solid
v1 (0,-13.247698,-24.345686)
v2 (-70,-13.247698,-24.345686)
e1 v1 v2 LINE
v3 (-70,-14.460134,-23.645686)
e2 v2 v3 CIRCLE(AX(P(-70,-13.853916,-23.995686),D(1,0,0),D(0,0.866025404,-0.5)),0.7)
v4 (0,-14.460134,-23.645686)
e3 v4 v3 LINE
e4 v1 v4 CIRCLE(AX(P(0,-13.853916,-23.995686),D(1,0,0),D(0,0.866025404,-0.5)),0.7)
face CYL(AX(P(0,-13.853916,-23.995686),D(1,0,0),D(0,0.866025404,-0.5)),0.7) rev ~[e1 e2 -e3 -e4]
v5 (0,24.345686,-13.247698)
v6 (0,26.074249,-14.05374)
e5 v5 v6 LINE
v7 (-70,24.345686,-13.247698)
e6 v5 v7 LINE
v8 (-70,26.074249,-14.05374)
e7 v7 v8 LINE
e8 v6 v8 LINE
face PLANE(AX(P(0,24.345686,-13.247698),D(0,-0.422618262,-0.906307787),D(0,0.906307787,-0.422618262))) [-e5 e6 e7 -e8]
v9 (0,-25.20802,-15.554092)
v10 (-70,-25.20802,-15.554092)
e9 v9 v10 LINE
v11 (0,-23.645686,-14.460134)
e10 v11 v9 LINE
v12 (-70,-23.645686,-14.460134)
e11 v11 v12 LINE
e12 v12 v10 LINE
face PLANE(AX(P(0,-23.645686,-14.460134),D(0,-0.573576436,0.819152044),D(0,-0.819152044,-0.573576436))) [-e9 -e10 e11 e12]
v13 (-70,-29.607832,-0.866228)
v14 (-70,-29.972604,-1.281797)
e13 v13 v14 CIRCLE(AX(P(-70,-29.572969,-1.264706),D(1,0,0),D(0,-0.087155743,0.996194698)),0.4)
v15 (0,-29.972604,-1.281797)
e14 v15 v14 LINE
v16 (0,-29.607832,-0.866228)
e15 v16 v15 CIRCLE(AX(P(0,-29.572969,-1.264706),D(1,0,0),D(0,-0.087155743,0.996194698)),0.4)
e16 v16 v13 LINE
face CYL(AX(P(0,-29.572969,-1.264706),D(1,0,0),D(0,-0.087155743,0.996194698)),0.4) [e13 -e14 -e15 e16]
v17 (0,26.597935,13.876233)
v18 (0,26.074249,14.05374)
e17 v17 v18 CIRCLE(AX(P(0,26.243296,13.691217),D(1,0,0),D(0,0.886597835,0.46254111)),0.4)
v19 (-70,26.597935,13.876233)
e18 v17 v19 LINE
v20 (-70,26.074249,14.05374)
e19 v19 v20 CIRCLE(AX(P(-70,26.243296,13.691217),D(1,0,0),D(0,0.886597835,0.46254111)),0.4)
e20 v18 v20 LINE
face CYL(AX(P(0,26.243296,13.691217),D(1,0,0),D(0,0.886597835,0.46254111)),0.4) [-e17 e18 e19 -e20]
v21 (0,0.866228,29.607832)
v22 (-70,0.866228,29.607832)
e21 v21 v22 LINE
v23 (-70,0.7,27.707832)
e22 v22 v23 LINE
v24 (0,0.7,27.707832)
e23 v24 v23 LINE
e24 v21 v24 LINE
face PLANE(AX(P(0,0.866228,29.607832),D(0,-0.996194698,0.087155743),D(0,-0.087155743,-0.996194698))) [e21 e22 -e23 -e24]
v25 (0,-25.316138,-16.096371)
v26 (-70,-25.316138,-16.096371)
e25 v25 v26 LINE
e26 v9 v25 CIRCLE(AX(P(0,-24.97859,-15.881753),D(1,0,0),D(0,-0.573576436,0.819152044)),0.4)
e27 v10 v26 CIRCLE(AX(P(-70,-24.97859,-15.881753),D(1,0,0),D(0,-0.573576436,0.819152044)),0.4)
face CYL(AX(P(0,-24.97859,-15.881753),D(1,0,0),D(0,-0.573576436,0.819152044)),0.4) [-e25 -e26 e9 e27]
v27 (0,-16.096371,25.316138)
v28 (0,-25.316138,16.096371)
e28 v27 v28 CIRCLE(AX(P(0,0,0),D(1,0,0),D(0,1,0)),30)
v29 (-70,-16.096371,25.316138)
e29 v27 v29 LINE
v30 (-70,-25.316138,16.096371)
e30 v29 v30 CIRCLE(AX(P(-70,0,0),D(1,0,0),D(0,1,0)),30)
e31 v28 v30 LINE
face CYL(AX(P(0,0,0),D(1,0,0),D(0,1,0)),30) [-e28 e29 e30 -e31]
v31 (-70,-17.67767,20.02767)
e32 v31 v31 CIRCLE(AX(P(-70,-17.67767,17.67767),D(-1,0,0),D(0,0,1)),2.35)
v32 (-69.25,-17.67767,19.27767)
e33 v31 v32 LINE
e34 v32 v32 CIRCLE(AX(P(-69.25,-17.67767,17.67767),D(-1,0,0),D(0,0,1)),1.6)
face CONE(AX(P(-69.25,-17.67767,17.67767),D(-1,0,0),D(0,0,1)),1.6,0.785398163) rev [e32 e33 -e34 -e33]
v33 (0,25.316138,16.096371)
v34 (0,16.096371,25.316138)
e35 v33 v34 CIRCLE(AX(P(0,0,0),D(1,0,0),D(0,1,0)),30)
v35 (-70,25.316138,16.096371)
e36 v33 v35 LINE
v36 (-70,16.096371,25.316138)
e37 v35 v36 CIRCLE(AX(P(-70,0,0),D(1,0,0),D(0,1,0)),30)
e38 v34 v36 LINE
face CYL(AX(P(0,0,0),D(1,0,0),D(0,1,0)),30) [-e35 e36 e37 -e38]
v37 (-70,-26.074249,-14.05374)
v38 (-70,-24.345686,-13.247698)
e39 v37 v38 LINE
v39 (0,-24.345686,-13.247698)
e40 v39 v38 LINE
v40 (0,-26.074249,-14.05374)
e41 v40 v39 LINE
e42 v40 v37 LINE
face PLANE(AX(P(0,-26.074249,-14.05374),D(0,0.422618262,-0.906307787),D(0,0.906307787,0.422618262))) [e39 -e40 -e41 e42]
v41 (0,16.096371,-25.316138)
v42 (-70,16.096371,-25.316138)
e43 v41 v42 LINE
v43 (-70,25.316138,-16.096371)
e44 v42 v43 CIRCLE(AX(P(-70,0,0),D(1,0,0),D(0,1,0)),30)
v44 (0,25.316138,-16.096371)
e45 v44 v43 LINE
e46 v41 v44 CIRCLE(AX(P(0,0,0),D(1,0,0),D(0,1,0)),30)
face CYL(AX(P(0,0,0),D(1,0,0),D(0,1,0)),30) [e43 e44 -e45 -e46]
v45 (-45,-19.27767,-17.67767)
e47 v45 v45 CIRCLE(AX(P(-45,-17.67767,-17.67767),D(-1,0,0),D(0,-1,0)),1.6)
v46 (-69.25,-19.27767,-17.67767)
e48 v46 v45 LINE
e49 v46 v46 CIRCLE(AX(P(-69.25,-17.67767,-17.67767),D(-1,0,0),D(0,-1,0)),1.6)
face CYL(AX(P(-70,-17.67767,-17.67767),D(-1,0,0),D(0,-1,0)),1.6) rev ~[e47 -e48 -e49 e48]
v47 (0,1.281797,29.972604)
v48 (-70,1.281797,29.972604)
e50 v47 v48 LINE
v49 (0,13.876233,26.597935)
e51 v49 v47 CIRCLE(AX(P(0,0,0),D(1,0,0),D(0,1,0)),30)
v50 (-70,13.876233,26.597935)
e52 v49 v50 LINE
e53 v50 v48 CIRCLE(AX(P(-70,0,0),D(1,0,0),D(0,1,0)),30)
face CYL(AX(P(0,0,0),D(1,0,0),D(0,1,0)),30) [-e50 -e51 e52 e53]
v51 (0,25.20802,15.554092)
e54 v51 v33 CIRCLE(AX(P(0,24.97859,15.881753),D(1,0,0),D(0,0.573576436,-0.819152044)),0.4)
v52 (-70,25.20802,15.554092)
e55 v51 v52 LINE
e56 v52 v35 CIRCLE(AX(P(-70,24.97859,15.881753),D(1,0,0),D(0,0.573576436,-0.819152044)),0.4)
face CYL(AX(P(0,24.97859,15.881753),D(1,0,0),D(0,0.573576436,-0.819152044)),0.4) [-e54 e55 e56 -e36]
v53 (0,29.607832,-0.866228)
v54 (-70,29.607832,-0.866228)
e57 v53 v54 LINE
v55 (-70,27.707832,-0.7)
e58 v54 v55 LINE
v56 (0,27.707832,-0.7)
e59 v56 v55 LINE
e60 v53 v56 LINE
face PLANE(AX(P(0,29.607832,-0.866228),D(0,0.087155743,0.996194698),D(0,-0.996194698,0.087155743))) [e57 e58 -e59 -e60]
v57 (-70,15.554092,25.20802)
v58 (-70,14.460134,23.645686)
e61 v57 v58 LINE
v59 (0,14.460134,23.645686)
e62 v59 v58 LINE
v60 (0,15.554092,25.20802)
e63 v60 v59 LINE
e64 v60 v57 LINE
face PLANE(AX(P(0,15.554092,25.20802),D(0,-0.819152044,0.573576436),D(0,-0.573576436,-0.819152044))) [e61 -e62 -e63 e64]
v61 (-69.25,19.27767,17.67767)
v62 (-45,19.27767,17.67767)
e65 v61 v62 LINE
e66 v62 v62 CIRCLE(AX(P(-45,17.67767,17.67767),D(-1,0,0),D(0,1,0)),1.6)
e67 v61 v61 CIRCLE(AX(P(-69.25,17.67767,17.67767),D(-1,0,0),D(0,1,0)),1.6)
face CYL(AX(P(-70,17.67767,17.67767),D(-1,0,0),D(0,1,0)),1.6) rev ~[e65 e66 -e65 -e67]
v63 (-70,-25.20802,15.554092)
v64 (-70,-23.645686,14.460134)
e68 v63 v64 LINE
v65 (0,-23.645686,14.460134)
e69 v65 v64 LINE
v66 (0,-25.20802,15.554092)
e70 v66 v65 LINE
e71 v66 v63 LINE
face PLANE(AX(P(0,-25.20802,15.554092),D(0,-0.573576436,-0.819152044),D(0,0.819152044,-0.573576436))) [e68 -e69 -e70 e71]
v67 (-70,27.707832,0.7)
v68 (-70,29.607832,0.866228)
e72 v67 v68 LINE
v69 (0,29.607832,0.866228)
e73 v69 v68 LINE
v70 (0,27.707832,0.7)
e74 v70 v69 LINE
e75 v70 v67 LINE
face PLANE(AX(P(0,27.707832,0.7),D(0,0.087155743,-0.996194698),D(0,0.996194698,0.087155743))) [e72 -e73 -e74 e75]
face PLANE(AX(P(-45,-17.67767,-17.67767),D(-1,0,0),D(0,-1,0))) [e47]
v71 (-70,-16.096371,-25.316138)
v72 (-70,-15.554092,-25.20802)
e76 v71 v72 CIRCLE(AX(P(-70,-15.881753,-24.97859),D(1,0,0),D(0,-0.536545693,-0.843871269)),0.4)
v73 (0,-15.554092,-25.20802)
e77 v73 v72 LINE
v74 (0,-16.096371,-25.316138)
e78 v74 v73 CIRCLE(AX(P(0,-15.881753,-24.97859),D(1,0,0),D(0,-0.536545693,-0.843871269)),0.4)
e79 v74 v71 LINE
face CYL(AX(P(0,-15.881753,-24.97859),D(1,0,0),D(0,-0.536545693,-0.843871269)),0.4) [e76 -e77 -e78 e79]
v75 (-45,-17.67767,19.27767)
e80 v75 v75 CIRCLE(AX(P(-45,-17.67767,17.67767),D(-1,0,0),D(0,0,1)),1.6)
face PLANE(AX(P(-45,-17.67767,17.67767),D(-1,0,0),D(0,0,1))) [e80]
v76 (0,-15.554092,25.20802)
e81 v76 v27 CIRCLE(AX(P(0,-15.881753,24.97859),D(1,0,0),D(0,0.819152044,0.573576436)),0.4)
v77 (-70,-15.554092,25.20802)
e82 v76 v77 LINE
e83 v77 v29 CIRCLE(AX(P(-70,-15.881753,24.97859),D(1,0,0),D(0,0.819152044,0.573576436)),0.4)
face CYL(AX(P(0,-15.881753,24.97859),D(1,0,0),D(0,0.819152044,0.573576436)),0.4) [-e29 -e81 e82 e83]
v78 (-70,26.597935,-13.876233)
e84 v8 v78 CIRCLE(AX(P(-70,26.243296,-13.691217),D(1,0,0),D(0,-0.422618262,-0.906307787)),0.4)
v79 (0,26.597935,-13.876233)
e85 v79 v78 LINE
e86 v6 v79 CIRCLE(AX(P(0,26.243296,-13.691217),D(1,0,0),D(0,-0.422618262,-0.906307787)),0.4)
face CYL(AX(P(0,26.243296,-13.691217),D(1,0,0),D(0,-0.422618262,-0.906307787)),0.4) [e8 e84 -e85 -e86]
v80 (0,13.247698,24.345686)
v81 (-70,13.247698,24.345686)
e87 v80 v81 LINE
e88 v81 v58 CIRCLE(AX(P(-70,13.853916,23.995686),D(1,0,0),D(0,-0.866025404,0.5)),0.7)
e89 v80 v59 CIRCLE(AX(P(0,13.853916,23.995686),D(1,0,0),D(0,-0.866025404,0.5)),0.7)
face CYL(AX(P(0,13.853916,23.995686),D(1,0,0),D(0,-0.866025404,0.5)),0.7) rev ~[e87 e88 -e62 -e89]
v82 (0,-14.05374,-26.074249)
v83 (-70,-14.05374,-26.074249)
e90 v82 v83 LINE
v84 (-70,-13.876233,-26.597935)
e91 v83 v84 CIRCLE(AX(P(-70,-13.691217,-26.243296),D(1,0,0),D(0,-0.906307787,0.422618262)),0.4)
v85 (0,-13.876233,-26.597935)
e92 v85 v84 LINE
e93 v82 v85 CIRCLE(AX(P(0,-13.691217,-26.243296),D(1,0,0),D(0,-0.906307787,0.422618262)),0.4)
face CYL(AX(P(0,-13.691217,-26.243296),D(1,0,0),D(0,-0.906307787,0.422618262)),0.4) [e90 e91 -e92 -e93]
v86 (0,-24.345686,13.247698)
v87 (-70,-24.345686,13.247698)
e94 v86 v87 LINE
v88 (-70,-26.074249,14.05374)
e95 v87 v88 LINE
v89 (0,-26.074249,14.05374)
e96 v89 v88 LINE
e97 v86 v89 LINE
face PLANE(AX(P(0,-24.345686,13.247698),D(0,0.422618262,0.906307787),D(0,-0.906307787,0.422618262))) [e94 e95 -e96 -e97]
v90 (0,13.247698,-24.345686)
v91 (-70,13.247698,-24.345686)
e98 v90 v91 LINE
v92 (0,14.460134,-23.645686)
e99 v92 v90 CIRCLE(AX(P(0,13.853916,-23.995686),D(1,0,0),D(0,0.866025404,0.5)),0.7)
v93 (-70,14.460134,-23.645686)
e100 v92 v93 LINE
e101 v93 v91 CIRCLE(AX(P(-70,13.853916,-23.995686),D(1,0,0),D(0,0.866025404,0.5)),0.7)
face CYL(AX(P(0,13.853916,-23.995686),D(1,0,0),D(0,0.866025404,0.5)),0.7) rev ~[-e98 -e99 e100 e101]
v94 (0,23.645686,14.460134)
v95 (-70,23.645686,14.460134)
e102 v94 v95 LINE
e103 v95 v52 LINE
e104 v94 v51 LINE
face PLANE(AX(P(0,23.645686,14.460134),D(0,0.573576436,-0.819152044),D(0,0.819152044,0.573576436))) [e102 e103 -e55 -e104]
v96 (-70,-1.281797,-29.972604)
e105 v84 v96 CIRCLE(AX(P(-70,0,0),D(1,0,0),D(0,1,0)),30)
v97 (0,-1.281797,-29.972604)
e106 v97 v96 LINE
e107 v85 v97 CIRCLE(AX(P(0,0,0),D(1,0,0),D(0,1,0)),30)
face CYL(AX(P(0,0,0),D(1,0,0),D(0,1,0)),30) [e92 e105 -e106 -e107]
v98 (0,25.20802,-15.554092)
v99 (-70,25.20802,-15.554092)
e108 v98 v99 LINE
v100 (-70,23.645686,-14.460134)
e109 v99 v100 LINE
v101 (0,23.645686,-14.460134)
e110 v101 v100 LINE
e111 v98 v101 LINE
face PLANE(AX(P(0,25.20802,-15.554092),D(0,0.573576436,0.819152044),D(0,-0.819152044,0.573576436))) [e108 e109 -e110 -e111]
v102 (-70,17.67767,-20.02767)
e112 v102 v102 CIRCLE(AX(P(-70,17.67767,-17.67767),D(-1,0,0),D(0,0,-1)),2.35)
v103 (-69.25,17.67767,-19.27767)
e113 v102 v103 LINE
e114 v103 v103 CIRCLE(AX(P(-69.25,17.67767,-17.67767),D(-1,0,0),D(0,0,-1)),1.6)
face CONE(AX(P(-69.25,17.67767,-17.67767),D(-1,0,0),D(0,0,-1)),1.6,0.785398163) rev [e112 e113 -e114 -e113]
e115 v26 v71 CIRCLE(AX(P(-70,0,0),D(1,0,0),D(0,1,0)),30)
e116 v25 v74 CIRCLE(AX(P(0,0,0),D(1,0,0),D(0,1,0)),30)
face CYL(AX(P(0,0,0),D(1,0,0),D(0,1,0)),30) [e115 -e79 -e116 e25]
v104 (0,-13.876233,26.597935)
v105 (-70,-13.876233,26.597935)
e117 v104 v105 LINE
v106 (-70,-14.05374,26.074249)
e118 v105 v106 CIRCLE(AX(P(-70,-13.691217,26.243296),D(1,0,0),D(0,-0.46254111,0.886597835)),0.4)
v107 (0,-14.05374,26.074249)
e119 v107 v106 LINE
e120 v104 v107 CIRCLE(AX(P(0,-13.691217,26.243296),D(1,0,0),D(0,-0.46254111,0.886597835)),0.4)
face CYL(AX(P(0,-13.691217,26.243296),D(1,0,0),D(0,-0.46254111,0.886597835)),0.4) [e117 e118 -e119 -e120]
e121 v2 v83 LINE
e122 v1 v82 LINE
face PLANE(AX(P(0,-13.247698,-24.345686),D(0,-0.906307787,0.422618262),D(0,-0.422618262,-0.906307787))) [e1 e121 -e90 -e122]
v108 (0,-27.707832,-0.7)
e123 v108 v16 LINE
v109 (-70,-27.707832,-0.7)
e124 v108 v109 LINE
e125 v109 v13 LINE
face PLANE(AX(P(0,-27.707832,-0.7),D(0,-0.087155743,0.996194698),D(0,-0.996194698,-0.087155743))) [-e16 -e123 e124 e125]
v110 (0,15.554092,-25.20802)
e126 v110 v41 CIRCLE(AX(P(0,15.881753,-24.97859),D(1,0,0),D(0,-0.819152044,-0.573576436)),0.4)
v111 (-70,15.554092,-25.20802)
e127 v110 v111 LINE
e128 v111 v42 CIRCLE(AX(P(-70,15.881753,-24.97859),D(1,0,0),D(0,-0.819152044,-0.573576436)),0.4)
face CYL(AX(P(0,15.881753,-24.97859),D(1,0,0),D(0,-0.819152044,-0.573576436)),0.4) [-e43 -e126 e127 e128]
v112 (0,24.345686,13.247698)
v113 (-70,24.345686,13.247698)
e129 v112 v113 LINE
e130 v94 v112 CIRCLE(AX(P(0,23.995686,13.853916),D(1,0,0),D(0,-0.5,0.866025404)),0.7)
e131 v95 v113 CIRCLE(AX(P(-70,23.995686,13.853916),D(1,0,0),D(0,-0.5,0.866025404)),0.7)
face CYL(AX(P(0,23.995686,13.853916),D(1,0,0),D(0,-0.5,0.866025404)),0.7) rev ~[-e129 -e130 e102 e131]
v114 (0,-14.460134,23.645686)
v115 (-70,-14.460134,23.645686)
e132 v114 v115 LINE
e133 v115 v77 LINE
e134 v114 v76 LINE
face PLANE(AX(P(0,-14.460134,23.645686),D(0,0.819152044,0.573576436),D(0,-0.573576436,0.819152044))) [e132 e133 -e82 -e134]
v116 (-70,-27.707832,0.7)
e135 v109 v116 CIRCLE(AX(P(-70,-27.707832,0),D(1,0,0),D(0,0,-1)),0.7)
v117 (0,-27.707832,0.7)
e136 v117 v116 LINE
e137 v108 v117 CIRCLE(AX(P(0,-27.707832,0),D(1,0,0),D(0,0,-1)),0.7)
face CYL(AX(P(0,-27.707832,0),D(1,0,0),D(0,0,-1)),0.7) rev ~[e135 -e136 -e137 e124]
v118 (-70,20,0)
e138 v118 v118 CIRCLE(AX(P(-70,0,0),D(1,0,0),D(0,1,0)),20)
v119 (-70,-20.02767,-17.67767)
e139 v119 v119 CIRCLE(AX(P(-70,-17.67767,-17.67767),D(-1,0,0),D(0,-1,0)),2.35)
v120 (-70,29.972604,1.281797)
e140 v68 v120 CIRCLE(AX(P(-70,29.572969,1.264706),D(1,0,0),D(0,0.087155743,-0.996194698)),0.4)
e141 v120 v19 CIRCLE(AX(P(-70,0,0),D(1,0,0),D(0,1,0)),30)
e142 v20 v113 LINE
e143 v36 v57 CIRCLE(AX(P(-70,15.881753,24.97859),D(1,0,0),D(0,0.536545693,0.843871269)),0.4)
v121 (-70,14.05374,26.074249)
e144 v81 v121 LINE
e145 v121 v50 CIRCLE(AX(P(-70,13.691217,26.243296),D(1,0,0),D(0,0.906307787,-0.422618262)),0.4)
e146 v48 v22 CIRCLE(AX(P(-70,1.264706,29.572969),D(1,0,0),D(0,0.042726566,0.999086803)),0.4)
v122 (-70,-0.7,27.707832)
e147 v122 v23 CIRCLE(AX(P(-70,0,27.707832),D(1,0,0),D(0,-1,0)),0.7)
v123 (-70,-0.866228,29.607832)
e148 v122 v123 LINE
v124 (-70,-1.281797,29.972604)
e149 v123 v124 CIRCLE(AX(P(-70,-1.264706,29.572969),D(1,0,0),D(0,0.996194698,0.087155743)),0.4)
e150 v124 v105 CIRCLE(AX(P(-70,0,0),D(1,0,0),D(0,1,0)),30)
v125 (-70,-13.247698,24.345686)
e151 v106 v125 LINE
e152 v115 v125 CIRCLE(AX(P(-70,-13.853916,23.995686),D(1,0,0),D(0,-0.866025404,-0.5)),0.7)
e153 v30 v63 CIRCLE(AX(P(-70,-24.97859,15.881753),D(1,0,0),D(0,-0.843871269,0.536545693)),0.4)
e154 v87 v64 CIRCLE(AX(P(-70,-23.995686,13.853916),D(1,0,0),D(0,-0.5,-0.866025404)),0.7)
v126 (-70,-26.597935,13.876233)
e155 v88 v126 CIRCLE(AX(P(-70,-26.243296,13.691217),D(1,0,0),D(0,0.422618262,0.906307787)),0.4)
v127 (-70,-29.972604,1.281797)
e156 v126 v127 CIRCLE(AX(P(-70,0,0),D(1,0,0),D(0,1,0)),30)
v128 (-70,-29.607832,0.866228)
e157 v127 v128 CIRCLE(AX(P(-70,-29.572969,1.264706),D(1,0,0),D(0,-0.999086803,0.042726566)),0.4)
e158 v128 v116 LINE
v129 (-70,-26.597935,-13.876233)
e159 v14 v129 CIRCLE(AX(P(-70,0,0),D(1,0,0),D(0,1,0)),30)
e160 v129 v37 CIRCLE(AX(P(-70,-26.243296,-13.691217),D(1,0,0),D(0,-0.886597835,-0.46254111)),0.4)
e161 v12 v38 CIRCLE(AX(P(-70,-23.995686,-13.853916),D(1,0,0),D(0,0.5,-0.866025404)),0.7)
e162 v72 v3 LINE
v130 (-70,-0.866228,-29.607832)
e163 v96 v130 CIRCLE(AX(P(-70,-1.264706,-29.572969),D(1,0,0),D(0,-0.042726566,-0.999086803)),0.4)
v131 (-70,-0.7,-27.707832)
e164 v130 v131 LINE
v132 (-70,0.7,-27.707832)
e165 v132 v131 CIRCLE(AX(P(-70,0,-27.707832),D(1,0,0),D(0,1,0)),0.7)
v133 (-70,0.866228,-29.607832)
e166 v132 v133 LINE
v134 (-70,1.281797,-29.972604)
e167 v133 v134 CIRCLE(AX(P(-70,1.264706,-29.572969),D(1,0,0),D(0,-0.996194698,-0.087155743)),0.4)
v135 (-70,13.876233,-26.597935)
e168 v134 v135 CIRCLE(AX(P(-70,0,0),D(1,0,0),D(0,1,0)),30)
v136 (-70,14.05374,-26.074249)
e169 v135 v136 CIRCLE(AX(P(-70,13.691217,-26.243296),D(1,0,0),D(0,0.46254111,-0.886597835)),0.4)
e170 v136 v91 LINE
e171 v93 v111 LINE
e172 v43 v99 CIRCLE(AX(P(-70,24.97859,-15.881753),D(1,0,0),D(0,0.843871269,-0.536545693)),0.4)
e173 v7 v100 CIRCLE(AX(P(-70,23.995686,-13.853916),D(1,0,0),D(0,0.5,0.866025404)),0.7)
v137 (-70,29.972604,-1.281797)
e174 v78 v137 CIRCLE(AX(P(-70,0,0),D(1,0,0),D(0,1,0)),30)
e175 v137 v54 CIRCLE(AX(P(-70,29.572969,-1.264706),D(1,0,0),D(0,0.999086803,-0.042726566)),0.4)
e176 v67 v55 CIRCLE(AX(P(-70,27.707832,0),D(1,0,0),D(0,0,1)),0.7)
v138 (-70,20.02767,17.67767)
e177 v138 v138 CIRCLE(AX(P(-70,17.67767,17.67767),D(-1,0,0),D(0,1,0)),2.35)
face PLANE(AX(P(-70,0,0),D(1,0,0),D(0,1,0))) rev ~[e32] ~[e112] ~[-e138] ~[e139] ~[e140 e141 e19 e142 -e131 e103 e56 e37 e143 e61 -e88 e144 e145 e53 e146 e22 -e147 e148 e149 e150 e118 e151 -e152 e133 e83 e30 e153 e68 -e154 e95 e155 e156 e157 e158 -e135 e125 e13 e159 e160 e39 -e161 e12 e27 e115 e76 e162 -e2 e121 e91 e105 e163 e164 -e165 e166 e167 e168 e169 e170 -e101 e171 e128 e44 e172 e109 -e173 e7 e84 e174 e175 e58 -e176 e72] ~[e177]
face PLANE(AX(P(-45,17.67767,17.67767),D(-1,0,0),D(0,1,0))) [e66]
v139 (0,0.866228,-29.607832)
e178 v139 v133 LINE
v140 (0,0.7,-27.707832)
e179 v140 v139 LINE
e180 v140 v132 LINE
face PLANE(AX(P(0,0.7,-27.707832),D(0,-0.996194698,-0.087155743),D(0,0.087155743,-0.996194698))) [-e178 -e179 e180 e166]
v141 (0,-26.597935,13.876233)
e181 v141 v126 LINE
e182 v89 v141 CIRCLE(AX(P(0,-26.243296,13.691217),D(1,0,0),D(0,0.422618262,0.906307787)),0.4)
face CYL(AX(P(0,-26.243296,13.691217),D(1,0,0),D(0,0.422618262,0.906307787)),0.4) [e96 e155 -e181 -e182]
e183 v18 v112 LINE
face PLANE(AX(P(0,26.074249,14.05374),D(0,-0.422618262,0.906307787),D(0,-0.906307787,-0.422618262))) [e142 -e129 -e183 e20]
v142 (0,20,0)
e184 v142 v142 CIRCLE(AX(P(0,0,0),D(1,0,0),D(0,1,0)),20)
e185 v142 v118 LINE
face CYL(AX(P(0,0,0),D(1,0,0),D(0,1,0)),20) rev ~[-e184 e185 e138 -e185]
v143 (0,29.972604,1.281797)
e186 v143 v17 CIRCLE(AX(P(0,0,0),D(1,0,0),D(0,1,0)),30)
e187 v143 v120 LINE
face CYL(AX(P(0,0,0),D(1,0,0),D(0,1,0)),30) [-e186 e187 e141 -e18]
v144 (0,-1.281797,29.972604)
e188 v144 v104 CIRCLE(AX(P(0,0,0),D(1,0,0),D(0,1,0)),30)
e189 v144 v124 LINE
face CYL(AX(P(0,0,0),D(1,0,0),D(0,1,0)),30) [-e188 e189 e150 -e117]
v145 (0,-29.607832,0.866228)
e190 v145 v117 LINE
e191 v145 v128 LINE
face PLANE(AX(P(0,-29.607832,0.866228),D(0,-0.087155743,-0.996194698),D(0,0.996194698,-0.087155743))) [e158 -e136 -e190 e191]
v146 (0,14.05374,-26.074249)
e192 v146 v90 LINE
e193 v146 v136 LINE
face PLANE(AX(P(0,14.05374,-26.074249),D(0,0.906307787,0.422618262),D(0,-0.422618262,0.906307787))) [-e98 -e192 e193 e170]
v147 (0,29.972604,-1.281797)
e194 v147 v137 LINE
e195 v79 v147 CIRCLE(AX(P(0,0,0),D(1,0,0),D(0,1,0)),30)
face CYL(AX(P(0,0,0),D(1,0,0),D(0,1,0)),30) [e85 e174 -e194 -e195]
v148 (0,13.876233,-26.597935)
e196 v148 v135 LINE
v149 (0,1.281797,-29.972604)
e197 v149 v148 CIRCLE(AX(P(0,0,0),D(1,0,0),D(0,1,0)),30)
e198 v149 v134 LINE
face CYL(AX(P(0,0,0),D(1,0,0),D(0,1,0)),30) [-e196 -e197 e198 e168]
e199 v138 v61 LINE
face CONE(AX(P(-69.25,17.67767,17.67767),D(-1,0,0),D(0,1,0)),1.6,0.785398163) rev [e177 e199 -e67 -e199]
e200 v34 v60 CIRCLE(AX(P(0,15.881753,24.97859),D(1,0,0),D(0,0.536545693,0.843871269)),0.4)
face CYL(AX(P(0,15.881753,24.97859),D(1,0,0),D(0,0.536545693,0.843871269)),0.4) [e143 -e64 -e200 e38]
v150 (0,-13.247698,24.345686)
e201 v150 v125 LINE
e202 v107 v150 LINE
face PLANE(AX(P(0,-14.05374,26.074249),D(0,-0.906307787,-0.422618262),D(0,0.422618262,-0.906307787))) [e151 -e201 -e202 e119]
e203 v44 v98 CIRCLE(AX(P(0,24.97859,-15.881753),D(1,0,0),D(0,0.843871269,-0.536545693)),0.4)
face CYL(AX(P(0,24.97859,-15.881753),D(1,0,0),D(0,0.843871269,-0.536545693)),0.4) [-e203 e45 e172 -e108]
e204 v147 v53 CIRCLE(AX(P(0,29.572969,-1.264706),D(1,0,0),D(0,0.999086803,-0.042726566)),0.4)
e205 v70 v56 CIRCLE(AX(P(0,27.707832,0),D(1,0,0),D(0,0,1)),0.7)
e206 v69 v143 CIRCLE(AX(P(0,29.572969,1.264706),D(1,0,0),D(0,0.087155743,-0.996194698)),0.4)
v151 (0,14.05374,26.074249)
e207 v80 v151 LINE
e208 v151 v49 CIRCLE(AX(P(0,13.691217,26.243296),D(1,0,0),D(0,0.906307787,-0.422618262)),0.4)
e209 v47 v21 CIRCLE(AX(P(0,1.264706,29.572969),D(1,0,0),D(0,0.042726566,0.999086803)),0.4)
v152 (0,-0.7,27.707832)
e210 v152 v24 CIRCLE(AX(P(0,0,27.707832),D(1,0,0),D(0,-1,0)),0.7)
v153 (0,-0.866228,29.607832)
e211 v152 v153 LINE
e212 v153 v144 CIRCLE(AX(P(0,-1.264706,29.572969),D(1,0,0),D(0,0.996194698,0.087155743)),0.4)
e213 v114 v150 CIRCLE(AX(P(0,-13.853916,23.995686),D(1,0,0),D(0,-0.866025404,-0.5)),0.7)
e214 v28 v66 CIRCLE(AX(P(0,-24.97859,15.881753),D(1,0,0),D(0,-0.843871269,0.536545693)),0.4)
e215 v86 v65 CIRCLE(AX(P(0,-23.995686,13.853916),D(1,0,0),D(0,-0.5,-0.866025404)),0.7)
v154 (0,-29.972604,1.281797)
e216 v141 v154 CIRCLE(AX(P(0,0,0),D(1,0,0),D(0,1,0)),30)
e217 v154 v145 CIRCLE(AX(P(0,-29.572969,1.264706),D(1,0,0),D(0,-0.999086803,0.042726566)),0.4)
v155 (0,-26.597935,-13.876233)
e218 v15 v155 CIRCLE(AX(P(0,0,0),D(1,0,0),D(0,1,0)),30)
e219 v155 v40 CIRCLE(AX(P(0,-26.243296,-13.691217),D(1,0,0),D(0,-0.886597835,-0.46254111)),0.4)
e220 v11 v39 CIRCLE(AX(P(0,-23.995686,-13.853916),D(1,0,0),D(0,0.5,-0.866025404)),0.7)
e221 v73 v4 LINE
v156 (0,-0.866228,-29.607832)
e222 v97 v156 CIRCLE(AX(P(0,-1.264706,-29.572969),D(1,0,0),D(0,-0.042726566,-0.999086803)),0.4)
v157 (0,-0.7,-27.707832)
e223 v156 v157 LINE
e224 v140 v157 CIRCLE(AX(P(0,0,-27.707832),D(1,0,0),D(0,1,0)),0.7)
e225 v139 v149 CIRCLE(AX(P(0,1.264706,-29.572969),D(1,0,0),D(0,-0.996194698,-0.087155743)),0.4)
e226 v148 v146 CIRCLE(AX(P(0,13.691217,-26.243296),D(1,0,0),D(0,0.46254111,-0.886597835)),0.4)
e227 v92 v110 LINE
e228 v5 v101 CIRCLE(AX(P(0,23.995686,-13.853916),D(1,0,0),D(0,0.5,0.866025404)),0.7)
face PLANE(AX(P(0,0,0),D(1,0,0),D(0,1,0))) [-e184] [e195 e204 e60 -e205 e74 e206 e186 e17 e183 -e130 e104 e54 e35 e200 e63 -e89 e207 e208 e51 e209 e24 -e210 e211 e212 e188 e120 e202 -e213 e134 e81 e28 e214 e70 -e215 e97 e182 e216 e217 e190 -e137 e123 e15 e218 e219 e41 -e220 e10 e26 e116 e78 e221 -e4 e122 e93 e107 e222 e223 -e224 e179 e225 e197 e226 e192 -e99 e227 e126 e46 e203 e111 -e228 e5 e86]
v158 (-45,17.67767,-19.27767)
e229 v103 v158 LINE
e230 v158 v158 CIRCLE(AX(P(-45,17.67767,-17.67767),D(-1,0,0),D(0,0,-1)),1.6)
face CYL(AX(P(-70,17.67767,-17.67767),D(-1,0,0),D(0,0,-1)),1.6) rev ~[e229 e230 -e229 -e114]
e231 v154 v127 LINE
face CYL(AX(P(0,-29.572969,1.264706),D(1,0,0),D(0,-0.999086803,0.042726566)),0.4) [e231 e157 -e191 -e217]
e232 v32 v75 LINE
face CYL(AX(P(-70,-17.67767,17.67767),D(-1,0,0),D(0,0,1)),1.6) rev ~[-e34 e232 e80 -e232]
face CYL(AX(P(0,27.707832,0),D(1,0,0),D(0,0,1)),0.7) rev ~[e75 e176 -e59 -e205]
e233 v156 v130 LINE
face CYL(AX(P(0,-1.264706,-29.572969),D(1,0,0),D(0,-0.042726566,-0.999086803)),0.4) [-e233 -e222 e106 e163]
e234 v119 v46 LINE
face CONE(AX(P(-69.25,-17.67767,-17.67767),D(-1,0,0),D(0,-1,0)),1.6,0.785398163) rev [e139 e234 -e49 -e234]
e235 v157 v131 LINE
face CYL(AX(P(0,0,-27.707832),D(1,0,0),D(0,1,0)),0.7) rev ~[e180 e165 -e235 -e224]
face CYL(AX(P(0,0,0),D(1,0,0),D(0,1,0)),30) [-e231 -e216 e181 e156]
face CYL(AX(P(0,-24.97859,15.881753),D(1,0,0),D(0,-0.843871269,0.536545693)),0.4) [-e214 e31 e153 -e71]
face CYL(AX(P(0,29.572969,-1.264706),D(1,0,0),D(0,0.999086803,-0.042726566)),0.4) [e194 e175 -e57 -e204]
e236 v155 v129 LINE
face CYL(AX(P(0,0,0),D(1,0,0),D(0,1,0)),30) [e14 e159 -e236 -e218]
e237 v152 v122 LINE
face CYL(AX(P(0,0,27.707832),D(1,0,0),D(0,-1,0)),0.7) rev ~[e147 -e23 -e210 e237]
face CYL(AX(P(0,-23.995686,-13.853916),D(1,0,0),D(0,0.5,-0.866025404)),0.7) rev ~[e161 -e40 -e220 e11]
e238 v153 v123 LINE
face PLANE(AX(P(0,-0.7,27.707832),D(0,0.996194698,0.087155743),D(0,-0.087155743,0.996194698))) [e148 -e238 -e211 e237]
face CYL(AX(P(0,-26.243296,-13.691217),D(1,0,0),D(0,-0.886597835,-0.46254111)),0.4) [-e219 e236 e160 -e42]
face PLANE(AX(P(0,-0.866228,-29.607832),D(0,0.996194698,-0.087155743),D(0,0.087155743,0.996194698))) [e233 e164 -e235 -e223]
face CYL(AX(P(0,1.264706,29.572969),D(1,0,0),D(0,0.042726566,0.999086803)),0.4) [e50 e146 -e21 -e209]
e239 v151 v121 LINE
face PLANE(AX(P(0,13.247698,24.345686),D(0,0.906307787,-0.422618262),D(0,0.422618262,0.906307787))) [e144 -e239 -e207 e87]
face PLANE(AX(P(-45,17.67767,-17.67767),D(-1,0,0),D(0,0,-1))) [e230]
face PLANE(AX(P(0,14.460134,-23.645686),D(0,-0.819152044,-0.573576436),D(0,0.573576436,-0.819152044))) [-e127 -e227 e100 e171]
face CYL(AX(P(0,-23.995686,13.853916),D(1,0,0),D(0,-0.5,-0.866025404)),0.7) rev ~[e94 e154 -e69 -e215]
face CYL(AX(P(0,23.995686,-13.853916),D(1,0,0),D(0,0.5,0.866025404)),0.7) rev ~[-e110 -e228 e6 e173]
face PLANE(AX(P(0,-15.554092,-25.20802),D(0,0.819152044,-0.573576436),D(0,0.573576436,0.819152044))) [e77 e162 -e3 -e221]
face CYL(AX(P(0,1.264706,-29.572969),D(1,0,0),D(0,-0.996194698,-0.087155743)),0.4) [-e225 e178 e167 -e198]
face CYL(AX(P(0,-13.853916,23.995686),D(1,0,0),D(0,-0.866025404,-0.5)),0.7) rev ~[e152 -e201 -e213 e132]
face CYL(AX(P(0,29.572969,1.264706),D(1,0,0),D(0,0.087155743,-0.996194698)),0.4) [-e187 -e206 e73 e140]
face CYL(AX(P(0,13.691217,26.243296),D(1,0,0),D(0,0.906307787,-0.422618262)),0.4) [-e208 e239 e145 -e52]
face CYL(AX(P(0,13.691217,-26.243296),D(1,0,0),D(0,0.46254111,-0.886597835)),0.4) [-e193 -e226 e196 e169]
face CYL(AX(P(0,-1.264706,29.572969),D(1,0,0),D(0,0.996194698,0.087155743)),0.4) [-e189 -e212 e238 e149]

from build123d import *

# Parameters (mm, degrees)
SKETCH008_R           = 30
SKETCH008_R_2         = 20
PAD002_DEPTH          = 70
POCKET_DEPTH          = 70
POLARPATTERN_COUNT    = 12
SKETCH019_R           = 1.6
POCKET001_DEPTH       = 25
POLARPATTERN002_COUNT = 4
CHAMFER_SIZE          = 0.75


with BuildPart() as part:
    # Sketch008 → Pad002 (new body)
    with BuildSketch(Plane.YZ):
        Circle(SKETCH008_R)
        Circle(SKETCH008_R_2, mode=Mode.SUBTRACT)
    extrude(amount=-PAD002_DEPTH)

    # Sketch009 (on Face3 of Pad002) → Pocket (cut)
    with BuildSketch(Plane.YZ):
        with BuildLine():
            ThreePointArc((29.6078316758, 0.8662284607), (29.8735874261, 1.0008336631), (29.9726041, 1.2817969662))
            ThreePointArc((29.9726041, -1.2817969662), (30, 0), (29.9726041, 1.2817969662))
            ThreePointArc((29.9726041, -1.2817969662), (29.8735874261, -1.0008336631), (29.6078316758, -0.8662284607))
            Line((29.6078316758, -0.8662284607), (27.7078316758, -0.7))
            ThreePointArc((27.7078316758, 0.7), (27.0078316758, 0), (27.7078316758, -0.7))
            Line((27.7078316758, 0.7), (29.6078316758, 0.8662284607))
        make_face()
    pocket = extrude(amount=-POCKET_DEPTH, mode=Mode.SUBTRACT)

    # PolarPattern: Pocket ×12 about axis
    polarpattern_axis = Axis((0, 0, 0), (1, 0, 0))
    for i in range(1, POLARPATTERN_COUNT):
        add(pocket.rotate(polarpattern_axis, i * 360 / POLARPATTERN_COUNT), mode=Mode.SUBTRACT)

    # Sketch019 (on Face4 of PolarPattern) → Pocket001 (cut)
    with BuildSketch(Plane(origin=(-70, 0, 0), x_dir=(0, 1, 0), z_dir=(-1, 0, 0))):
        with Locations((17.6776695297, -17.6776695297)):
            Circle(SKETCH019_R)
    pocket001 = extrude(amount=-POCKET001_DEPTH, mode=Mode.SUBTRACT)

    # PolarPattern002: Pocket001 ×4 about axis
    polarpattern002_axis = Axis((-70, 0, 0), (-1, 0, 0))
    for i in range(1, POLARPATTERN002_COUNT):
        add(pocket001.rotate(polarpattern002_axis, i * 360 / POLARPATTERN002_COUNT), mode=Mode.SUBTRACT)

    # Chamfer
    chamfer_edges = [part.edges().sort_by_distance(p)[0] for p in [
        (-70, 17.67767, -16.07767),
        (-70, -16.07767, -17.67767),
        (-70, -17.67767, 16.07767),
        (-70, 16.07767, 17.67767),
    ]]
    chamfer(chamfer_edges, length=CHAMFER_SIZE)


solid = part.part
